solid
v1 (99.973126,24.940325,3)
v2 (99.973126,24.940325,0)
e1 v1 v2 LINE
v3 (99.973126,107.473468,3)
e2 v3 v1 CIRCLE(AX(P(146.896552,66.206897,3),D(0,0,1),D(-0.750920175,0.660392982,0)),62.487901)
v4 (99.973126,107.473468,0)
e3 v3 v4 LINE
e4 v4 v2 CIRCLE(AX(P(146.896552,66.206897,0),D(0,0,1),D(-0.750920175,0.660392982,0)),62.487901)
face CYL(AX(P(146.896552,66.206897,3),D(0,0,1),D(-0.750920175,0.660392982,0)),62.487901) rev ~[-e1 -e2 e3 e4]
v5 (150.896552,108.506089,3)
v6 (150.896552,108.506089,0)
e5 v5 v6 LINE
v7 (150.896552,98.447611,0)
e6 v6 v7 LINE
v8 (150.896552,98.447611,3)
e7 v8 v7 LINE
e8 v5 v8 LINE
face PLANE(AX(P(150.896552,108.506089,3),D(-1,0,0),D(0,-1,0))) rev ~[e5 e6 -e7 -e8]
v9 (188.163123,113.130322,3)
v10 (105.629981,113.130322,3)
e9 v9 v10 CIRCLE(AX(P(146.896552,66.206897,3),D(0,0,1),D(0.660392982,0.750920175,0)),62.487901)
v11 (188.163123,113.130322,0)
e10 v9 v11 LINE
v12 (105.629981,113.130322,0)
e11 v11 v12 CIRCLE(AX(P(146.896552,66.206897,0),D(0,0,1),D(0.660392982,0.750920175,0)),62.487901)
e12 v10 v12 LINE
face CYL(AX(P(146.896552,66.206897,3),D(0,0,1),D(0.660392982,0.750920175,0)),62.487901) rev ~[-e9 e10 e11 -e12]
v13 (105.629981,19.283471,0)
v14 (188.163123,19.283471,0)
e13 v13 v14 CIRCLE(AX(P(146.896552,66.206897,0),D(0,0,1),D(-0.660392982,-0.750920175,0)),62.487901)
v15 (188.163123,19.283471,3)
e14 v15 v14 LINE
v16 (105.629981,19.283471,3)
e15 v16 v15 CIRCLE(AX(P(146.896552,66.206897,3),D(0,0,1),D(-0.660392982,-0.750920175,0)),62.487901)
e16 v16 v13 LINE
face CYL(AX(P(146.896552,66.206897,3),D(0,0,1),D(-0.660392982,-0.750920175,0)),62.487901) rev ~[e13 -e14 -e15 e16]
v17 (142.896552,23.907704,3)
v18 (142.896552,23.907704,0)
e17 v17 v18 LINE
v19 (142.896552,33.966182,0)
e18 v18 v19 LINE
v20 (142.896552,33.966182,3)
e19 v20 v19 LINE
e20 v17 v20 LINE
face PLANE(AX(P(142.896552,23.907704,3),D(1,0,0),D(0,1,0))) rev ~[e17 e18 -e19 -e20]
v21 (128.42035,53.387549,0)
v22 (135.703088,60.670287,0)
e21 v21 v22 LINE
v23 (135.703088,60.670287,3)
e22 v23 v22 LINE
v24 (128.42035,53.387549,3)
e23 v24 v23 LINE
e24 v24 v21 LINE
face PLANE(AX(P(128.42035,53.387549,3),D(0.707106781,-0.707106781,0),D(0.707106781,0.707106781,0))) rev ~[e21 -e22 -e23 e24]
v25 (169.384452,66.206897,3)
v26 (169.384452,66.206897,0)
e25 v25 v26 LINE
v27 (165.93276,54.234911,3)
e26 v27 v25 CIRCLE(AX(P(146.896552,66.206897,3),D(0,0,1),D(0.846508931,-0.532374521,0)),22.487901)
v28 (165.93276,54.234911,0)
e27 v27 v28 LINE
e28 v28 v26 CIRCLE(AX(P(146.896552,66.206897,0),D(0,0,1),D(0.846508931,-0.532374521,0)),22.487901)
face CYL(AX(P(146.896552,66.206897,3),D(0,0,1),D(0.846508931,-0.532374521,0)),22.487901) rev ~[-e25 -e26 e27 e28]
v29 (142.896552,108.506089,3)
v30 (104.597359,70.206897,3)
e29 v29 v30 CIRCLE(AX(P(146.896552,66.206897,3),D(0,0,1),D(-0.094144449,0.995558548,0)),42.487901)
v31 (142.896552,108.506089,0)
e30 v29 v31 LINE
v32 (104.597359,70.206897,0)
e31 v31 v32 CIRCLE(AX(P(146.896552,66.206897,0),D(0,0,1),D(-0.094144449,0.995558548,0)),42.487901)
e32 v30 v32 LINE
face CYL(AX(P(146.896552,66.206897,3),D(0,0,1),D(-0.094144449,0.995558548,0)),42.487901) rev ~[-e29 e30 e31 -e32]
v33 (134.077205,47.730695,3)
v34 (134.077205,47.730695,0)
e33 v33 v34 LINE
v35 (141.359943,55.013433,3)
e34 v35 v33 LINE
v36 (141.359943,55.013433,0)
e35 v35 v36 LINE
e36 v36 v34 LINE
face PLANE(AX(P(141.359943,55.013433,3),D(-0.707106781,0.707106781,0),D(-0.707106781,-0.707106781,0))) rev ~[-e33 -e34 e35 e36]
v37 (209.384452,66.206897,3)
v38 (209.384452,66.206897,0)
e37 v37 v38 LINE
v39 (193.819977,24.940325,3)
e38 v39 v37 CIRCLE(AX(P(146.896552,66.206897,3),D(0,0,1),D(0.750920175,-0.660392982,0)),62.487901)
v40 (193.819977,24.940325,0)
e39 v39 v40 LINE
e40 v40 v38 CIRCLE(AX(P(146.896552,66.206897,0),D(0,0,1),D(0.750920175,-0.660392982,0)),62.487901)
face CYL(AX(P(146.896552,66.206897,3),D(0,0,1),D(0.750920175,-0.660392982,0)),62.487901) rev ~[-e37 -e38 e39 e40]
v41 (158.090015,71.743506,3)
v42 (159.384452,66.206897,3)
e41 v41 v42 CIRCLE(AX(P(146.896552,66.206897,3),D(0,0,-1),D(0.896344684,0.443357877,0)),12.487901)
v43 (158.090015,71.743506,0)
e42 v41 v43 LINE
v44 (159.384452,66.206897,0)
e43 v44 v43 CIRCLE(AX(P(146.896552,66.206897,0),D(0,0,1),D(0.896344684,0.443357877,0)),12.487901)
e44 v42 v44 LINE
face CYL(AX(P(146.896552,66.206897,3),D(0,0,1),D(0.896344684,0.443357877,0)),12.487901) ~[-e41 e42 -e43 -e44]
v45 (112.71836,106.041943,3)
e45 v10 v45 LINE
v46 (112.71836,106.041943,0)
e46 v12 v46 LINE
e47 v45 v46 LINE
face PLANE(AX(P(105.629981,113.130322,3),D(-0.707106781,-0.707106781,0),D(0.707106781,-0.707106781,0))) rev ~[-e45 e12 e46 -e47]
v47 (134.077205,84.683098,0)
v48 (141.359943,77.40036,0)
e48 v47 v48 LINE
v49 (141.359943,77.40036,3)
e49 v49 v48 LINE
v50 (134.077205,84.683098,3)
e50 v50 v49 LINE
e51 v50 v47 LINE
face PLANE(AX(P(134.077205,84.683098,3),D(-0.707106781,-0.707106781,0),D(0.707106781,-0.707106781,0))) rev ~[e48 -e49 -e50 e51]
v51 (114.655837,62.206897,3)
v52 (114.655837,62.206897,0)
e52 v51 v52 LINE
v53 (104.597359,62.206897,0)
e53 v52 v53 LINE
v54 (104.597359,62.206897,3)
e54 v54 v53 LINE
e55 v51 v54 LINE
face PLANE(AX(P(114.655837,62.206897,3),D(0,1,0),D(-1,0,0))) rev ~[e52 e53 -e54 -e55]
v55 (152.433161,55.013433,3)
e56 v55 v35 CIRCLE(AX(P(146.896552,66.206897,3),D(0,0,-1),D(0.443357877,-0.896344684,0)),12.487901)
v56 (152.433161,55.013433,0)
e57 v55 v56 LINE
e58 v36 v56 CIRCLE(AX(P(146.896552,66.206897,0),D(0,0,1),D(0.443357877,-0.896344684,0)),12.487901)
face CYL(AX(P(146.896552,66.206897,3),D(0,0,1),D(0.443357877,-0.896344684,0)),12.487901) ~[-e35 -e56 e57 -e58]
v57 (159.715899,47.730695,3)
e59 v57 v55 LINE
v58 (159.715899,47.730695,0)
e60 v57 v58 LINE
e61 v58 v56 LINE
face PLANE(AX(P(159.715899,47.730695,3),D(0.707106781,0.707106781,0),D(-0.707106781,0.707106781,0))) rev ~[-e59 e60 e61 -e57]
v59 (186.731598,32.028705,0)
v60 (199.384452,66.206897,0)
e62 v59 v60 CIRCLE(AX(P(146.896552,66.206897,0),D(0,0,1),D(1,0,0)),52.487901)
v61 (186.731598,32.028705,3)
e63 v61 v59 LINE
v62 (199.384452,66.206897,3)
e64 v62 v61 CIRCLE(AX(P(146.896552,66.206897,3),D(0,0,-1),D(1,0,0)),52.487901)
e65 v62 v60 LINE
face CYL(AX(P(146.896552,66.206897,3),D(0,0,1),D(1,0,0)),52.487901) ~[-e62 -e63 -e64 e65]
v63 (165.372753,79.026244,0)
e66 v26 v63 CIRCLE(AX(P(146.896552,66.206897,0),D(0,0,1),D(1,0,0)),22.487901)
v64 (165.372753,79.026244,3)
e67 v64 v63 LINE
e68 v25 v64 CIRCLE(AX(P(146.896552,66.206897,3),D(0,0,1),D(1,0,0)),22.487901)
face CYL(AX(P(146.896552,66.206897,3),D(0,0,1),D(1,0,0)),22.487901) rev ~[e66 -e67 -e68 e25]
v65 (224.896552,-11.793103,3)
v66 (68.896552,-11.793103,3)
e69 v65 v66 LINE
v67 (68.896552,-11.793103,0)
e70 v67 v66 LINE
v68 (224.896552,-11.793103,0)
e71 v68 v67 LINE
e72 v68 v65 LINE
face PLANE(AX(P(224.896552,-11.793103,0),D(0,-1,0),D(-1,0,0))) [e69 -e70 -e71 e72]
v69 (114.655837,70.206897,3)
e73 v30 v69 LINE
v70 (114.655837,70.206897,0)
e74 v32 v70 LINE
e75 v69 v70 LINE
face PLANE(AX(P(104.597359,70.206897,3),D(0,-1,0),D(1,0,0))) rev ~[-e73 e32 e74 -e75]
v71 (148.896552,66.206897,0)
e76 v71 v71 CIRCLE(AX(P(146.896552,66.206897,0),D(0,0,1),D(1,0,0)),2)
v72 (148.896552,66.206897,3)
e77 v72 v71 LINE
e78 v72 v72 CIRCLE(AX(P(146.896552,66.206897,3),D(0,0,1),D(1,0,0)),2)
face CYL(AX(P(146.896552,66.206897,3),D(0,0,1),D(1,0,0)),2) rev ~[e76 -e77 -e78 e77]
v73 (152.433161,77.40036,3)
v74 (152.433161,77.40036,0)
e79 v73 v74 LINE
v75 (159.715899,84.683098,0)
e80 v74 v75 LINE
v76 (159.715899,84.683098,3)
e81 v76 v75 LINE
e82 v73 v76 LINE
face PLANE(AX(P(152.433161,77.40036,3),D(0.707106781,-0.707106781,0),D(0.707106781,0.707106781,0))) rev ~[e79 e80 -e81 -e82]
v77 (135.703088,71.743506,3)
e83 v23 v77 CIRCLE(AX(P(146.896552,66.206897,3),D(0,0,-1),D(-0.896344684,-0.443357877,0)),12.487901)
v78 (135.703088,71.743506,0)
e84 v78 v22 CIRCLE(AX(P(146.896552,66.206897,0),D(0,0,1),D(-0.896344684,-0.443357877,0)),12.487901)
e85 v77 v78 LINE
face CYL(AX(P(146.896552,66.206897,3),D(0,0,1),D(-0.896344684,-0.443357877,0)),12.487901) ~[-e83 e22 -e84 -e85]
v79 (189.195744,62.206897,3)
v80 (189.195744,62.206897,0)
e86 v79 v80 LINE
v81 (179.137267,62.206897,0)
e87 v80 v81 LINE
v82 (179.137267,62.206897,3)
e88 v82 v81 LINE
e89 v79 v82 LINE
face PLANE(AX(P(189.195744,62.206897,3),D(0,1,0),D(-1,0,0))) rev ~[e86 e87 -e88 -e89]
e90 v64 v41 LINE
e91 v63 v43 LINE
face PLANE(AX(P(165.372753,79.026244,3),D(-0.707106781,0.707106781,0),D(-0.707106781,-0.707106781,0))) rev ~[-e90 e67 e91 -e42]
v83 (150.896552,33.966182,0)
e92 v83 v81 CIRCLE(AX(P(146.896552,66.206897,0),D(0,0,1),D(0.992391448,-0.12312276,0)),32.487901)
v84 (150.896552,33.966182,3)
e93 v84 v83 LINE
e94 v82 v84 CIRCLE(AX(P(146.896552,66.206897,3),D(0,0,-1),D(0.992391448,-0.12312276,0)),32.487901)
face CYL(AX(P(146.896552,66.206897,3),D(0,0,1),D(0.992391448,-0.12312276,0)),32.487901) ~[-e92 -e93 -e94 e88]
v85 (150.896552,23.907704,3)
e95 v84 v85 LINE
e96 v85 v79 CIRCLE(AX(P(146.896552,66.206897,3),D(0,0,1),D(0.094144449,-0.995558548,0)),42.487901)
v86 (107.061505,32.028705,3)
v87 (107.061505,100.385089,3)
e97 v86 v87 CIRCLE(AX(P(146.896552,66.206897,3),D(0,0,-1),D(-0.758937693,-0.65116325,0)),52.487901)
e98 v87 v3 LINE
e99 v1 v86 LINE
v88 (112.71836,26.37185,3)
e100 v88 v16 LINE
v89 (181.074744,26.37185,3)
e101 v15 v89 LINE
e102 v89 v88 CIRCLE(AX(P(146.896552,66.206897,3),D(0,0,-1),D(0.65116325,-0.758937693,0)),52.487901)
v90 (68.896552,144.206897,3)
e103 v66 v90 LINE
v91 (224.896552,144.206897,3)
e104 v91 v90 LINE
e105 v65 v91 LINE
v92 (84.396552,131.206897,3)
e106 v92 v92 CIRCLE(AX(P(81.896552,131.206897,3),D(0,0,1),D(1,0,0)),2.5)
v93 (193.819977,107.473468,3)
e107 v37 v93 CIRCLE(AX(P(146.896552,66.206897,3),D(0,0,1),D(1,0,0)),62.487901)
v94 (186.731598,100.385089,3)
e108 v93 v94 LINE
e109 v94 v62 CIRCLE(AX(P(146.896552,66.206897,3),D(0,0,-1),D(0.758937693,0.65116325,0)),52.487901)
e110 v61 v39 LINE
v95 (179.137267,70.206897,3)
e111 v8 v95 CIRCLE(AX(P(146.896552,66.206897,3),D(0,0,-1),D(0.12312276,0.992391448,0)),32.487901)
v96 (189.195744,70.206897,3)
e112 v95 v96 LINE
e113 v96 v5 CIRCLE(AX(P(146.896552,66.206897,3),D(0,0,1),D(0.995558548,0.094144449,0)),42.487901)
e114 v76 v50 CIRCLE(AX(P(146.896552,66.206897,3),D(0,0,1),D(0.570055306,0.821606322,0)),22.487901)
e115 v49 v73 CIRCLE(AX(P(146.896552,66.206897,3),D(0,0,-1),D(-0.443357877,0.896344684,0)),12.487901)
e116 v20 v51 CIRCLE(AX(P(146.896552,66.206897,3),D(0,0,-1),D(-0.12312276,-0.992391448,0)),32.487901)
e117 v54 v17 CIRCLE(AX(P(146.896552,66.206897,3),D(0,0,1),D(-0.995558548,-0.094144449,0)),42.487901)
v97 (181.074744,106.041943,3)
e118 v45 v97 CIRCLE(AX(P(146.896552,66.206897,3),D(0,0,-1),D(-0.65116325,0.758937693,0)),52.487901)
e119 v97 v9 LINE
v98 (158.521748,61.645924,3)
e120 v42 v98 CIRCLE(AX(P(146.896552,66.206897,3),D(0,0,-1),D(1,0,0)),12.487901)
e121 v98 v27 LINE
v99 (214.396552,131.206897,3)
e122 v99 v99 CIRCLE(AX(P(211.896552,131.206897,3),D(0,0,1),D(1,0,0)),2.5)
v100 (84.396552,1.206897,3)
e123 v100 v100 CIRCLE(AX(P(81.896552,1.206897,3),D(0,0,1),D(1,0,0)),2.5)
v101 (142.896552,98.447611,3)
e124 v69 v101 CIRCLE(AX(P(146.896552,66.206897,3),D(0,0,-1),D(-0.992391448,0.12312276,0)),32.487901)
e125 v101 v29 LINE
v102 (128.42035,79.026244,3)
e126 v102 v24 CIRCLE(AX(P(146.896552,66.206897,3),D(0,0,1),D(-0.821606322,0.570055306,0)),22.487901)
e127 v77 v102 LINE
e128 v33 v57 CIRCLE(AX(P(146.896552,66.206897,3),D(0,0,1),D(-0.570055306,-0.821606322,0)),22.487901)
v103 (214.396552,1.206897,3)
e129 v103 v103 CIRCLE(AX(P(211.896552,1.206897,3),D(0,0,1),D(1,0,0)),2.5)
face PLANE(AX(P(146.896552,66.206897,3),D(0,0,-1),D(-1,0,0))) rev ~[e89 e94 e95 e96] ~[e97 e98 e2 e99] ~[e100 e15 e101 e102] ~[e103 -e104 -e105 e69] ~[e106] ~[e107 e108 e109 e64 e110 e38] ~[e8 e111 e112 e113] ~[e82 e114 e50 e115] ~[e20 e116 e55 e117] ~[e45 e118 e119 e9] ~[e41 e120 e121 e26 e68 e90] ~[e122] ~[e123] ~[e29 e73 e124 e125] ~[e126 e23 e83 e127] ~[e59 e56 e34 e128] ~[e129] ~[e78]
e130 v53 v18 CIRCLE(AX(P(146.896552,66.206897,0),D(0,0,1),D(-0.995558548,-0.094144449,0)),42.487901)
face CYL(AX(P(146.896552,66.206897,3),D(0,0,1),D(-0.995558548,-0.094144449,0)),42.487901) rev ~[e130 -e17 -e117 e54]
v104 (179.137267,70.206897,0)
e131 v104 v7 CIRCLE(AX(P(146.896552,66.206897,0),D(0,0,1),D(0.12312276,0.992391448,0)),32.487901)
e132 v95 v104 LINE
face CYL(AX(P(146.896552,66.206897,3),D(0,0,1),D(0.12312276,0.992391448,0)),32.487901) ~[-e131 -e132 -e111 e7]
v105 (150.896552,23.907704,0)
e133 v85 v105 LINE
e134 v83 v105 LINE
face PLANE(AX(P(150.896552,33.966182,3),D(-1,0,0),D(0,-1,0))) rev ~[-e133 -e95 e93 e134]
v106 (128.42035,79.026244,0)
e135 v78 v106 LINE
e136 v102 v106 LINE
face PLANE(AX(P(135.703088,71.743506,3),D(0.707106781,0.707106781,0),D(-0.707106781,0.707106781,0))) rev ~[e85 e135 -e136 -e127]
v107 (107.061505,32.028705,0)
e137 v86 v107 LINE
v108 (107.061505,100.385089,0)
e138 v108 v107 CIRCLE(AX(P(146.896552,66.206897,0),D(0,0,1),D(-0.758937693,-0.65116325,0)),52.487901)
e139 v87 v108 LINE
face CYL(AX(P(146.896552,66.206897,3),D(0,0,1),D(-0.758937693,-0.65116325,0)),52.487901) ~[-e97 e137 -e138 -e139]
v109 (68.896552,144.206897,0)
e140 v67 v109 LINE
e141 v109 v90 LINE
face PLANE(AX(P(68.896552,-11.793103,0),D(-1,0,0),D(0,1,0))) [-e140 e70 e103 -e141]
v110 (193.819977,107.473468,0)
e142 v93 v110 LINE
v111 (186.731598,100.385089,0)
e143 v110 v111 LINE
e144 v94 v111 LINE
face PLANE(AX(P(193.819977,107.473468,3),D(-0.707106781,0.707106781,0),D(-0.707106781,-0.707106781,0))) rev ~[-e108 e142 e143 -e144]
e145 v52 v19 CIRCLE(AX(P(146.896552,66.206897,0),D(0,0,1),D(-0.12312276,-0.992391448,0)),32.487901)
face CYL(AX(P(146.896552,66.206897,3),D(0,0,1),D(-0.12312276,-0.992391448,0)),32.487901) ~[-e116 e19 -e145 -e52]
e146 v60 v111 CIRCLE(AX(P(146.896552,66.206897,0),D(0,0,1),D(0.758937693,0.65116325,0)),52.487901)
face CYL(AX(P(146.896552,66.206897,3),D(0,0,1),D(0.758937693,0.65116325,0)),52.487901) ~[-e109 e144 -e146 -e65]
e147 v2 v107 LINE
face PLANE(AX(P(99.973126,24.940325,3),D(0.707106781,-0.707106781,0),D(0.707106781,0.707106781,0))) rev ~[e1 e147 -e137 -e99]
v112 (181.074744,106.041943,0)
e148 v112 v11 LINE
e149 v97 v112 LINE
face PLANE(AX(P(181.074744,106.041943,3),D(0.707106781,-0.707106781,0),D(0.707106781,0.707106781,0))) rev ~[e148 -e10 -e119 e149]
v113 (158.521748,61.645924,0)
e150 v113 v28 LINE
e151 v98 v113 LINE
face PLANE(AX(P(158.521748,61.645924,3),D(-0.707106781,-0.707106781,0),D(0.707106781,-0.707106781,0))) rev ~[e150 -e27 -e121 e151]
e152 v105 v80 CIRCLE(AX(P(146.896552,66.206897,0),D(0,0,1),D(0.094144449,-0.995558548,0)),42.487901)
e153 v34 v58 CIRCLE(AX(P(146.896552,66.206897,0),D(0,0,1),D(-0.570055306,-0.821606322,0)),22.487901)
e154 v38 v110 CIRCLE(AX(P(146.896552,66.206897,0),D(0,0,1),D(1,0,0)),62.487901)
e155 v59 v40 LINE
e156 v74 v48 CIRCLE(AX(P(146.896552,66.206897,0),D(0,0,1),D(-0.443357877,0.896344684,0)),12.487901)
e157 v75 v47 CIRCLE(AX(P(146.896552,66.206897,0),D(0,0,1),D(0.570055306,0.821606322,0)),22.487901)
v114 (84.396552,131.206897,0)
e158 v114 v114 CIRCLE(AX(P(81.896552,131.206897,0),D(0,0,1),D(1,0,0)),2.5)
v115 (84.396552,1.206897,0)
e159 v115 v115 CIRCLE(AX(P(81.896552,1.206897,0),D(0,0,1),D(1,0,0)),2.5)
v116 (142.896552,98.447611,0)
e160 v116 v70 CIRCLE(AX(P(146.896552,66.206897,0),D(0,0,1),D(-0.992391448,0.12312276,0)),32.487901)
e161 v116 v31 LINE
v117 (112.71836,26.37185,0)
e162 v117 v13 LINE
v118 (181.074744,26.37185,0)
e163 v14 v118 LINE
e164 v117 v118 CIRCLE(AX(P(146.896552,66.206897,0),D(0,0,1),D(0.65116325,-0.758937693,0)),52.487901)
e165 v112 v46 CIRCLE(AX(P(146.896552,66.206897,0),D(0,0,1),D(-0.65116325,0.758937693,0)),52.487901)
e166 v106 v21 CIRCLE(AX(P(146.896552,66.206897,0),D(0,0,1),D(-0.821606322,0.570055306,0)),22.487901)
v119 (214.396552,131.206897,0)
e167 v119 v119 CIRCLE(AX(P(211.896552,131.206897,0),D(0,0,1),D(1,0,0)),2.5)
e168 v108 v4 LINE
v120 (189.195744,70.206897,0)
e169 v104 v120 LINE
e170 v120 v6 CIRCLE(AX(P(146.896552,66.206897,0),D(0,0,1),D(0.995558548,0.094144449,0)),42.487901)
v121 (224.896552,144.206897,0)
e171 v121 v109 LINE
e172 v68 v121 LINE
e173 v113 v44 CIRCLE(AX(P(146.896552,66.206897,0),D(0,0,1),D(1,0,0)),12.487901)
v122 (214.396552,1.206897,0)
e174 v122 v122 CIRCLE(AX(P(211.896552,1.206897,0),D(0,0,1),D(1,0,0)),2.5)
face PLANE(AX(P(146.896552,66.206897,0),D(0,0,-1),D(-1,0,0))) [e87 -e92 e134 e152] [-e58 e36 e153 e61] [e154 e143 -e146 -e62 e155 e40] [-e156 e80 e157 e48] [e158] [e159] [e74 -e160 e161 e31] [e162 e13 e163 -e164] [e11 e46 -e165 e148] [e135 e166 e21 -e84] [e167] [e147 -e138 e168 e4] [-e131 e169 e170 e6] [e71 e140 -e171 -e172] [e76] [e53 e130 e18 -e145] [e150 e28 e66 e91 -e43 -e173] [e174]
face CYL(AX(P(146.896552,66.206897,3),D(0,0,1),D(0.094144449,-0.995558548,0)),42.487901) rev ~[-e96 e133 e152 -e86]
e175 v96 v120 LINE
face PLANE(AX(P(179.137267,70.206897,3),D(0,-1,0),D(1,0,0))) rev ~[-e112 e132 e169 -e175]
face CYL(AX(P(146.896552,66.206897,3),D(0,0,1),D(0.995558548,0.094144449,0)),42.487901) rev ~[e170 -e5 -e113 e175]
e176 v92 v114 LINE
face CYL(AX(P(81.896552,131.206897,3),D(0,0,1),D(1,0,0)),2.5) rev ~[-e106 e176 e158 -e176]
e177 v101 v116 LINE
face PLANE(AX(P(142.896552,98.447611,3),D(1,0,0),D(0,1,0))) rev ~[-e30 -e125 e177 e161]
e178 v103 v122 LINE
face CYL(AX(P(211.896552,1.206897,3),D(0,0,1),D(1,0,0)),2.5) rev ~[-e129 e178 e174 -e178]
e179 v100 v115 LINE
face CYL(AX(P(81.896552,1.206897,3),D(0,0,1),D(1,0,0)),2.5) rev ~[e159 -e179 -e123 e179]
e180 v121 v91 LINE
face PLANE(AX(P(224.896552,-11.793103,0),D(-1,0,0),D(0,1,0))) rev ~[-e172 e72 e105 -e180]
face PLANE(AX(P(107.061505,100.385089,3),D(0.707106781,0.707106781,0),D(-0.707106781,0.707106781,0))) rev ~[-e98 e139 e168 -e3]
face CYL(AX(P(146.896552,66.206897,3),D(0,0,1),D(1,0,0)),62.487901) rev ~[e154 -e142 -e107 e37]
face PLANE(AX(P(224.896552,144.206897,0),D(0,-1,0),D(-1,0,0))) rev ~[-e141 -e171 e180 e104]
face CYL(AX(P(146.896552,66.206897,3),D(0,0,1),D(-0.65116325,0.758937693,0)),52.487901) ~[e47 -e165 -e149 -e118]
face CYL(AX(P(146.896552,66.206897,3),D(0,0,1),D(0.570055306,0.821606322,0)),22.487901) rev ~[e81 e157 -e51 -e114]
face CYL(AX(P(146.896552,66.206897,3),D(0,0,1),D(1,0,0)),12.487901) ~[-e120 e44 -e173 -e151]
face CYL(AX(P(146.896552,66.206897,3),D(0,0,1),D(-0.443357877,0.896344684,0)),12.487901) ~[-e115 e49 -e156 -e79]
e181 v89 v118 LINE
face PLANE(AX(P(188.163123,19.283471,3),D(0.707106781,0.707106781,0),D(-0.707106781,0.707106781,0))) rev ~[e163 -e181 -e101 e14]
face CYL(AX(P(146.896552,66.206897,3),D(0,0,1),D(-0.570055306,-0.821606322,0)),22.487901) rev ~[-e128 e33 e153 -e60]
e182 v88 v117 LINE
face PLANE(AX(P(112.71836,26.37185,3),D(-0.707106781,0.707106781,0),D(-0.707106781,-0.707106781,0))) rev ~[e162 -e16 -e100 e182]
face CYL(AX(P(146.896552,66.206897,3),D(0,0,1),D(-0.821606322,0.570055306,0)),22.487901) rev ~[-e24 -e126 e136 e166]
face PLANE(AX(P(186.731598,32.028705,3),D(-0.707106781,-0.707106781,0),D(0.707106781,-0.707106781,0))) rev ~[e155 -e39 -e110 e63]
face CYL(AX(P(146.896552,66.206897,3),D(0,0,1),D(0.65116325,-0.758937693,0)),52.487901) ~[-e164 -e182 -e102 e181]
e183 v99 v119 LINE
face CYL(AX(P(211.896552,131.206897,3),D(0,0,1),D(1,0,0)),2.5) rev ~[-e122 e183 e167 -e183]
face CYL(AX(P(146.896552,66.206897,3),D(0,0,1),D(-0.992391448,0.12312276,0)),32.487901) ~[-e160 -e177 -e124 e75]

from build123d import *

# Parameters (mm, degrees)
SKETCH1_W           = 150
SKETCH1_H           = 150
BOSS_EXTRUDE1_DEPTH = 3
CUT_EXTRUDE1_DEPTH  = 264.0332057
SKETCH4_R           = 2.5
CUT_EXTRUDE2_DEPTH  = 3
SKETCH5_W           = 156
SKETCH5_H           = 156
SKETCH5_W_2         = 150
SKETCH5_H_2         = 150
BOSS_EXTRUDE2_DEPTH = 3
SKETCH6_R           = 2
CUT_EXTRUDE3_DEPTH  = 10


with BuildPart() as part:
    # Sketch1 → Boss-Extrude1 (new body)
    with BuildSketch(Plane.XY):
        with Locations((146.896551724, 66.206896552)):
            Rectangle(SKETCH1_W, SKETCH1_H)
    extrude(amount=BOSS_EXTRUDE1_DEPTH)

    # Sketch2 → Cut-Extrude1 (cut, through all)
    with BuildSketch(Plane.XY.offset(3)):
        with BuildLine():
            ThreePointArc((188.163122783, 113.13032186), (146.896551724, 128.694797217), (105.629980666, 113.13032186))
            Line((105.629980666, 113.13032186), (112.718359737, 106.041942789))
            ThreePointArc((112.718359737, 106.041942789), (146.896551724, 118.694797217), (181.074743712, 106.041942789))
            Line((181.074743712, 106.041942789), (188.163122783, 113.13032186))
        make_face()
        with BuildLine():
            Line((107.061505487, 100.385088539), (99.973126416, 107.47346761))
            ThreePointArc((99.973126416, 107.47346761), (84.408651059, 66.206896552), (99.973126416, 24.940325493))
            Line((99.973126416, 24.940325493), (107.061505487, 32.028704564))
            ThreePointArc((107.061505487, 32.028704564), (94.408651059, 66.206896552), (107.061505487, 100.385088539))
        make_face()
        with BuildLine():
            ThreePointArc((209.384452389, 66.206896552), (205.363995952, 88.259009716), (193.819977032, 107.47346761))
            Line((193.819977032, 107.47346761), (186.731597961, 100.385088539))
            ThreePointArc((186.731597961, 100.385088539), (196.119705149, 84.429434333), (199.384452389, 66.206896552))
            ThreePointArc((199.384452389, 66.206896552), (196.119705149, 47.984358771), (186.731597961, 32.028704564))
            Line((186.731597961, 32.028704564), (193.819977032, 24.940325493))
            ThreePointArc((193.819977032, 24.940325493), (205.363995952, 44.154783387), (209.384452389, 66.206896552))
        make_face()
        with BuildLine():
            Line((112.718359737, 26.371850315), (105.629980666, 19.283471244))
            ThreePointArc((105.629980666, 19.283471244), (146.896551724, 3.718995886), (188.163122783, 19.283471244))
            Line((188.163122783, 19.283471244), (181.074743712, 26.371850315))
            ThreePointArc((181.074743712, 26.371850315), (146.896551724, 13.718995886), (112.718359737, 26.371850315))
        make_face()
        with BuildLine():
            ThreePointArc((150.896551724, 23.907703853), (176.940034403, 36.163413873), (189.195744423, 62.206896552))
            Line((189.195744423, 62.206896552), (179.137266506, 62.206896552))
            ThreePointArc((179.137266506, 62.206896552), (169.868966591, 43.234481685), (150.896551724, 33.96618177))
            Line((150.896551724, 33.96618177), (150.896551724, 23.907703853))
        make_face()
        with BuildLine():
            Line((114.655836942, 62.206896552), (104.597359026, 62.206896552))
            ThreePointArc((104.597359026, 62.206896552), (116.853069045, 36.163413873), (142.896551724, 23.907703853))
            Line((142.896551724, 23.907703853), (142.896551724, 33.96618177))
            ThreePointArc((142.896551724, 33.96618177), (123.924136857, 43.234481685), (114.655836942, 62.206896552))
        make_face()
        with BuildLine():
            Line((142.896551724, 98.447611333), (142.896551724, 108.50608925))
            ThreePointArc((142.896551724, 108.50608925), (116.853069045, 96.250379231), (104.597359026, 70.206896552))
            Line((104.597359026, 70.206896552), (114.655836942, 70.206896552))
            ThreePointArc((114.655836942, 70.206896552), (123.924136857, 89.179311419), (142.896551724, 98.447611333))
        make_face()
        with BuildLine():
            ThreePointArc((189.195744423, 70.206896552), (176.940034403, 96.250379231), (150.896551724, 108.50608925))
            Line((150.896551724, 108.50608925), (150.896551724, 98.447611333))
            ThreePointArc((150.896551724, 98.447611333), (169.868966591, 89.179311419), (179.137266506, 70.206896552))
            Line((179.137266506, 70.206896552), (189.195744423, 70.206896552))
        make_face()
        with BuildLine():
            Line((165.372753073, 79.026243651), (158.090015102, 71.74350568))
            ThreePointArc((158.090015102, 71.74350568), (159.056537781, 69.049853135), (159.384452389, 66.206896552))
            ThreePointArc((159.384452389, 66.206896552), (159.166880972, 63.885973637), (158.521748029, 61.645923641))
            Line((158.521748029, 61.645923641), (165.932760465, 54.234911206))
            ThreePointArc((165.932760465, 54.234911206), (168.504305512, 59.977076926), (169.384452389, 66.206896552))
            ThreePointArc((169.384452389, 66.206896552), (168.358106385, 72.923096956), (165.372753073, 79.026243651))
        make_face()
        with BuildLine():
            Line((134.077204625, 84.6830979), (141.359942596, 77.400359929))
            ThreePointArc((141.359942596, 77.400359929), (146.896551724, 78.694797217), (152.433160852, 77.400359929))
            Line((152.433160852, 77.400359929), (159.715898823, 84.6830979))
            ThreePointArc((159.715898823, 84.6830979), (146.896551724, 88.694797217), (134.077204625, 84.6830979))
        make_face()
        with BuildLine():
            ThreePointArc((135.703088346, 60.670287424), (134.408651059, 66.206896552), (135.703088346, 71.74350568))
            Line((135.703088346, 71.74350568), (128.420350375, 79.026243651))
            ThreePointArc((128.420350375, 79.026243651), (124.408651059, 66.206896552), (128.420350375, 53.387549452))
            Line((128.420350375, 53.387549452), (135.703088346, 60.670287424))
        make_face()
        with BuildLine():
            ThreePointArc((152.433160852, 55.013433174), (146.896551724, 53.718995886), (141.359942596, 55.013433174))
            Line((141.359942596, 55.013433174), (134.077204625, 47.730695203))
            ThreePointArc((134.077204625, 47.730695203), (146.896551724, 43.718995886), (159.715898823, 47.730695203))
            Line((159.715898823, 47.730695203), (152.433160852, 55.013433174))
        make_face()
    extrude(amount=-CUT_EXTRUDE1_DEPTH, mode=Mode.SUBTRACT)

    # Sketch4 → Cut-Extrude2 (cut)
    with BuildSketch(Plane.XY.offset(3)):
        with Locations((81.896551724, 131.206896552)):
            Circle(SKETCH4_R)
        with Locations((211.896551724, 131.206896552)):
            Circle(SKETCH4_R)
        with Locations((211.896551724, 1.206896552)):
            Circle(SKETCH4_R)
        with Locations((81.896551724, 1.206896552)):
            Circle(SKETCH4_R)
    extrude(amount=-CUT_EXTRUDE2_DEPTH, mode=Mode.SUBTRACT)

    # Sketch5 → Boss-Extrude2 (add)
    with BuildSketch(Plane(origin=(0, 0, 0), x_dir=(-1, 0, 0), z_dir=(0, 0, -1))):
        with Locations((-146.896551724, 66.206896552)):
            Rectangle(SKETCH5_W, SKETCH5_H)
        with Locations((-146.896551724, 66.206896552)):
            Rectangle(SKETCH5_W_2, SKETCH5_H_2, mode=Mode.SUBTRACT)
    extrude(amount=-BOSS_EXTRUDE2_DEPTH)

    # Sketch6 → Cut-Extrude3 (cut)
    with BuildSketch(Plane.XY.offset(3)):
        with Locations((146.896551724, 66.206896552)):
            Circle(SKETCH6_R)
    extrude(amount=-CUT_EXTRUDE3_DEPTH, mode=Mode.SUBTRACT)


solid = part.part
